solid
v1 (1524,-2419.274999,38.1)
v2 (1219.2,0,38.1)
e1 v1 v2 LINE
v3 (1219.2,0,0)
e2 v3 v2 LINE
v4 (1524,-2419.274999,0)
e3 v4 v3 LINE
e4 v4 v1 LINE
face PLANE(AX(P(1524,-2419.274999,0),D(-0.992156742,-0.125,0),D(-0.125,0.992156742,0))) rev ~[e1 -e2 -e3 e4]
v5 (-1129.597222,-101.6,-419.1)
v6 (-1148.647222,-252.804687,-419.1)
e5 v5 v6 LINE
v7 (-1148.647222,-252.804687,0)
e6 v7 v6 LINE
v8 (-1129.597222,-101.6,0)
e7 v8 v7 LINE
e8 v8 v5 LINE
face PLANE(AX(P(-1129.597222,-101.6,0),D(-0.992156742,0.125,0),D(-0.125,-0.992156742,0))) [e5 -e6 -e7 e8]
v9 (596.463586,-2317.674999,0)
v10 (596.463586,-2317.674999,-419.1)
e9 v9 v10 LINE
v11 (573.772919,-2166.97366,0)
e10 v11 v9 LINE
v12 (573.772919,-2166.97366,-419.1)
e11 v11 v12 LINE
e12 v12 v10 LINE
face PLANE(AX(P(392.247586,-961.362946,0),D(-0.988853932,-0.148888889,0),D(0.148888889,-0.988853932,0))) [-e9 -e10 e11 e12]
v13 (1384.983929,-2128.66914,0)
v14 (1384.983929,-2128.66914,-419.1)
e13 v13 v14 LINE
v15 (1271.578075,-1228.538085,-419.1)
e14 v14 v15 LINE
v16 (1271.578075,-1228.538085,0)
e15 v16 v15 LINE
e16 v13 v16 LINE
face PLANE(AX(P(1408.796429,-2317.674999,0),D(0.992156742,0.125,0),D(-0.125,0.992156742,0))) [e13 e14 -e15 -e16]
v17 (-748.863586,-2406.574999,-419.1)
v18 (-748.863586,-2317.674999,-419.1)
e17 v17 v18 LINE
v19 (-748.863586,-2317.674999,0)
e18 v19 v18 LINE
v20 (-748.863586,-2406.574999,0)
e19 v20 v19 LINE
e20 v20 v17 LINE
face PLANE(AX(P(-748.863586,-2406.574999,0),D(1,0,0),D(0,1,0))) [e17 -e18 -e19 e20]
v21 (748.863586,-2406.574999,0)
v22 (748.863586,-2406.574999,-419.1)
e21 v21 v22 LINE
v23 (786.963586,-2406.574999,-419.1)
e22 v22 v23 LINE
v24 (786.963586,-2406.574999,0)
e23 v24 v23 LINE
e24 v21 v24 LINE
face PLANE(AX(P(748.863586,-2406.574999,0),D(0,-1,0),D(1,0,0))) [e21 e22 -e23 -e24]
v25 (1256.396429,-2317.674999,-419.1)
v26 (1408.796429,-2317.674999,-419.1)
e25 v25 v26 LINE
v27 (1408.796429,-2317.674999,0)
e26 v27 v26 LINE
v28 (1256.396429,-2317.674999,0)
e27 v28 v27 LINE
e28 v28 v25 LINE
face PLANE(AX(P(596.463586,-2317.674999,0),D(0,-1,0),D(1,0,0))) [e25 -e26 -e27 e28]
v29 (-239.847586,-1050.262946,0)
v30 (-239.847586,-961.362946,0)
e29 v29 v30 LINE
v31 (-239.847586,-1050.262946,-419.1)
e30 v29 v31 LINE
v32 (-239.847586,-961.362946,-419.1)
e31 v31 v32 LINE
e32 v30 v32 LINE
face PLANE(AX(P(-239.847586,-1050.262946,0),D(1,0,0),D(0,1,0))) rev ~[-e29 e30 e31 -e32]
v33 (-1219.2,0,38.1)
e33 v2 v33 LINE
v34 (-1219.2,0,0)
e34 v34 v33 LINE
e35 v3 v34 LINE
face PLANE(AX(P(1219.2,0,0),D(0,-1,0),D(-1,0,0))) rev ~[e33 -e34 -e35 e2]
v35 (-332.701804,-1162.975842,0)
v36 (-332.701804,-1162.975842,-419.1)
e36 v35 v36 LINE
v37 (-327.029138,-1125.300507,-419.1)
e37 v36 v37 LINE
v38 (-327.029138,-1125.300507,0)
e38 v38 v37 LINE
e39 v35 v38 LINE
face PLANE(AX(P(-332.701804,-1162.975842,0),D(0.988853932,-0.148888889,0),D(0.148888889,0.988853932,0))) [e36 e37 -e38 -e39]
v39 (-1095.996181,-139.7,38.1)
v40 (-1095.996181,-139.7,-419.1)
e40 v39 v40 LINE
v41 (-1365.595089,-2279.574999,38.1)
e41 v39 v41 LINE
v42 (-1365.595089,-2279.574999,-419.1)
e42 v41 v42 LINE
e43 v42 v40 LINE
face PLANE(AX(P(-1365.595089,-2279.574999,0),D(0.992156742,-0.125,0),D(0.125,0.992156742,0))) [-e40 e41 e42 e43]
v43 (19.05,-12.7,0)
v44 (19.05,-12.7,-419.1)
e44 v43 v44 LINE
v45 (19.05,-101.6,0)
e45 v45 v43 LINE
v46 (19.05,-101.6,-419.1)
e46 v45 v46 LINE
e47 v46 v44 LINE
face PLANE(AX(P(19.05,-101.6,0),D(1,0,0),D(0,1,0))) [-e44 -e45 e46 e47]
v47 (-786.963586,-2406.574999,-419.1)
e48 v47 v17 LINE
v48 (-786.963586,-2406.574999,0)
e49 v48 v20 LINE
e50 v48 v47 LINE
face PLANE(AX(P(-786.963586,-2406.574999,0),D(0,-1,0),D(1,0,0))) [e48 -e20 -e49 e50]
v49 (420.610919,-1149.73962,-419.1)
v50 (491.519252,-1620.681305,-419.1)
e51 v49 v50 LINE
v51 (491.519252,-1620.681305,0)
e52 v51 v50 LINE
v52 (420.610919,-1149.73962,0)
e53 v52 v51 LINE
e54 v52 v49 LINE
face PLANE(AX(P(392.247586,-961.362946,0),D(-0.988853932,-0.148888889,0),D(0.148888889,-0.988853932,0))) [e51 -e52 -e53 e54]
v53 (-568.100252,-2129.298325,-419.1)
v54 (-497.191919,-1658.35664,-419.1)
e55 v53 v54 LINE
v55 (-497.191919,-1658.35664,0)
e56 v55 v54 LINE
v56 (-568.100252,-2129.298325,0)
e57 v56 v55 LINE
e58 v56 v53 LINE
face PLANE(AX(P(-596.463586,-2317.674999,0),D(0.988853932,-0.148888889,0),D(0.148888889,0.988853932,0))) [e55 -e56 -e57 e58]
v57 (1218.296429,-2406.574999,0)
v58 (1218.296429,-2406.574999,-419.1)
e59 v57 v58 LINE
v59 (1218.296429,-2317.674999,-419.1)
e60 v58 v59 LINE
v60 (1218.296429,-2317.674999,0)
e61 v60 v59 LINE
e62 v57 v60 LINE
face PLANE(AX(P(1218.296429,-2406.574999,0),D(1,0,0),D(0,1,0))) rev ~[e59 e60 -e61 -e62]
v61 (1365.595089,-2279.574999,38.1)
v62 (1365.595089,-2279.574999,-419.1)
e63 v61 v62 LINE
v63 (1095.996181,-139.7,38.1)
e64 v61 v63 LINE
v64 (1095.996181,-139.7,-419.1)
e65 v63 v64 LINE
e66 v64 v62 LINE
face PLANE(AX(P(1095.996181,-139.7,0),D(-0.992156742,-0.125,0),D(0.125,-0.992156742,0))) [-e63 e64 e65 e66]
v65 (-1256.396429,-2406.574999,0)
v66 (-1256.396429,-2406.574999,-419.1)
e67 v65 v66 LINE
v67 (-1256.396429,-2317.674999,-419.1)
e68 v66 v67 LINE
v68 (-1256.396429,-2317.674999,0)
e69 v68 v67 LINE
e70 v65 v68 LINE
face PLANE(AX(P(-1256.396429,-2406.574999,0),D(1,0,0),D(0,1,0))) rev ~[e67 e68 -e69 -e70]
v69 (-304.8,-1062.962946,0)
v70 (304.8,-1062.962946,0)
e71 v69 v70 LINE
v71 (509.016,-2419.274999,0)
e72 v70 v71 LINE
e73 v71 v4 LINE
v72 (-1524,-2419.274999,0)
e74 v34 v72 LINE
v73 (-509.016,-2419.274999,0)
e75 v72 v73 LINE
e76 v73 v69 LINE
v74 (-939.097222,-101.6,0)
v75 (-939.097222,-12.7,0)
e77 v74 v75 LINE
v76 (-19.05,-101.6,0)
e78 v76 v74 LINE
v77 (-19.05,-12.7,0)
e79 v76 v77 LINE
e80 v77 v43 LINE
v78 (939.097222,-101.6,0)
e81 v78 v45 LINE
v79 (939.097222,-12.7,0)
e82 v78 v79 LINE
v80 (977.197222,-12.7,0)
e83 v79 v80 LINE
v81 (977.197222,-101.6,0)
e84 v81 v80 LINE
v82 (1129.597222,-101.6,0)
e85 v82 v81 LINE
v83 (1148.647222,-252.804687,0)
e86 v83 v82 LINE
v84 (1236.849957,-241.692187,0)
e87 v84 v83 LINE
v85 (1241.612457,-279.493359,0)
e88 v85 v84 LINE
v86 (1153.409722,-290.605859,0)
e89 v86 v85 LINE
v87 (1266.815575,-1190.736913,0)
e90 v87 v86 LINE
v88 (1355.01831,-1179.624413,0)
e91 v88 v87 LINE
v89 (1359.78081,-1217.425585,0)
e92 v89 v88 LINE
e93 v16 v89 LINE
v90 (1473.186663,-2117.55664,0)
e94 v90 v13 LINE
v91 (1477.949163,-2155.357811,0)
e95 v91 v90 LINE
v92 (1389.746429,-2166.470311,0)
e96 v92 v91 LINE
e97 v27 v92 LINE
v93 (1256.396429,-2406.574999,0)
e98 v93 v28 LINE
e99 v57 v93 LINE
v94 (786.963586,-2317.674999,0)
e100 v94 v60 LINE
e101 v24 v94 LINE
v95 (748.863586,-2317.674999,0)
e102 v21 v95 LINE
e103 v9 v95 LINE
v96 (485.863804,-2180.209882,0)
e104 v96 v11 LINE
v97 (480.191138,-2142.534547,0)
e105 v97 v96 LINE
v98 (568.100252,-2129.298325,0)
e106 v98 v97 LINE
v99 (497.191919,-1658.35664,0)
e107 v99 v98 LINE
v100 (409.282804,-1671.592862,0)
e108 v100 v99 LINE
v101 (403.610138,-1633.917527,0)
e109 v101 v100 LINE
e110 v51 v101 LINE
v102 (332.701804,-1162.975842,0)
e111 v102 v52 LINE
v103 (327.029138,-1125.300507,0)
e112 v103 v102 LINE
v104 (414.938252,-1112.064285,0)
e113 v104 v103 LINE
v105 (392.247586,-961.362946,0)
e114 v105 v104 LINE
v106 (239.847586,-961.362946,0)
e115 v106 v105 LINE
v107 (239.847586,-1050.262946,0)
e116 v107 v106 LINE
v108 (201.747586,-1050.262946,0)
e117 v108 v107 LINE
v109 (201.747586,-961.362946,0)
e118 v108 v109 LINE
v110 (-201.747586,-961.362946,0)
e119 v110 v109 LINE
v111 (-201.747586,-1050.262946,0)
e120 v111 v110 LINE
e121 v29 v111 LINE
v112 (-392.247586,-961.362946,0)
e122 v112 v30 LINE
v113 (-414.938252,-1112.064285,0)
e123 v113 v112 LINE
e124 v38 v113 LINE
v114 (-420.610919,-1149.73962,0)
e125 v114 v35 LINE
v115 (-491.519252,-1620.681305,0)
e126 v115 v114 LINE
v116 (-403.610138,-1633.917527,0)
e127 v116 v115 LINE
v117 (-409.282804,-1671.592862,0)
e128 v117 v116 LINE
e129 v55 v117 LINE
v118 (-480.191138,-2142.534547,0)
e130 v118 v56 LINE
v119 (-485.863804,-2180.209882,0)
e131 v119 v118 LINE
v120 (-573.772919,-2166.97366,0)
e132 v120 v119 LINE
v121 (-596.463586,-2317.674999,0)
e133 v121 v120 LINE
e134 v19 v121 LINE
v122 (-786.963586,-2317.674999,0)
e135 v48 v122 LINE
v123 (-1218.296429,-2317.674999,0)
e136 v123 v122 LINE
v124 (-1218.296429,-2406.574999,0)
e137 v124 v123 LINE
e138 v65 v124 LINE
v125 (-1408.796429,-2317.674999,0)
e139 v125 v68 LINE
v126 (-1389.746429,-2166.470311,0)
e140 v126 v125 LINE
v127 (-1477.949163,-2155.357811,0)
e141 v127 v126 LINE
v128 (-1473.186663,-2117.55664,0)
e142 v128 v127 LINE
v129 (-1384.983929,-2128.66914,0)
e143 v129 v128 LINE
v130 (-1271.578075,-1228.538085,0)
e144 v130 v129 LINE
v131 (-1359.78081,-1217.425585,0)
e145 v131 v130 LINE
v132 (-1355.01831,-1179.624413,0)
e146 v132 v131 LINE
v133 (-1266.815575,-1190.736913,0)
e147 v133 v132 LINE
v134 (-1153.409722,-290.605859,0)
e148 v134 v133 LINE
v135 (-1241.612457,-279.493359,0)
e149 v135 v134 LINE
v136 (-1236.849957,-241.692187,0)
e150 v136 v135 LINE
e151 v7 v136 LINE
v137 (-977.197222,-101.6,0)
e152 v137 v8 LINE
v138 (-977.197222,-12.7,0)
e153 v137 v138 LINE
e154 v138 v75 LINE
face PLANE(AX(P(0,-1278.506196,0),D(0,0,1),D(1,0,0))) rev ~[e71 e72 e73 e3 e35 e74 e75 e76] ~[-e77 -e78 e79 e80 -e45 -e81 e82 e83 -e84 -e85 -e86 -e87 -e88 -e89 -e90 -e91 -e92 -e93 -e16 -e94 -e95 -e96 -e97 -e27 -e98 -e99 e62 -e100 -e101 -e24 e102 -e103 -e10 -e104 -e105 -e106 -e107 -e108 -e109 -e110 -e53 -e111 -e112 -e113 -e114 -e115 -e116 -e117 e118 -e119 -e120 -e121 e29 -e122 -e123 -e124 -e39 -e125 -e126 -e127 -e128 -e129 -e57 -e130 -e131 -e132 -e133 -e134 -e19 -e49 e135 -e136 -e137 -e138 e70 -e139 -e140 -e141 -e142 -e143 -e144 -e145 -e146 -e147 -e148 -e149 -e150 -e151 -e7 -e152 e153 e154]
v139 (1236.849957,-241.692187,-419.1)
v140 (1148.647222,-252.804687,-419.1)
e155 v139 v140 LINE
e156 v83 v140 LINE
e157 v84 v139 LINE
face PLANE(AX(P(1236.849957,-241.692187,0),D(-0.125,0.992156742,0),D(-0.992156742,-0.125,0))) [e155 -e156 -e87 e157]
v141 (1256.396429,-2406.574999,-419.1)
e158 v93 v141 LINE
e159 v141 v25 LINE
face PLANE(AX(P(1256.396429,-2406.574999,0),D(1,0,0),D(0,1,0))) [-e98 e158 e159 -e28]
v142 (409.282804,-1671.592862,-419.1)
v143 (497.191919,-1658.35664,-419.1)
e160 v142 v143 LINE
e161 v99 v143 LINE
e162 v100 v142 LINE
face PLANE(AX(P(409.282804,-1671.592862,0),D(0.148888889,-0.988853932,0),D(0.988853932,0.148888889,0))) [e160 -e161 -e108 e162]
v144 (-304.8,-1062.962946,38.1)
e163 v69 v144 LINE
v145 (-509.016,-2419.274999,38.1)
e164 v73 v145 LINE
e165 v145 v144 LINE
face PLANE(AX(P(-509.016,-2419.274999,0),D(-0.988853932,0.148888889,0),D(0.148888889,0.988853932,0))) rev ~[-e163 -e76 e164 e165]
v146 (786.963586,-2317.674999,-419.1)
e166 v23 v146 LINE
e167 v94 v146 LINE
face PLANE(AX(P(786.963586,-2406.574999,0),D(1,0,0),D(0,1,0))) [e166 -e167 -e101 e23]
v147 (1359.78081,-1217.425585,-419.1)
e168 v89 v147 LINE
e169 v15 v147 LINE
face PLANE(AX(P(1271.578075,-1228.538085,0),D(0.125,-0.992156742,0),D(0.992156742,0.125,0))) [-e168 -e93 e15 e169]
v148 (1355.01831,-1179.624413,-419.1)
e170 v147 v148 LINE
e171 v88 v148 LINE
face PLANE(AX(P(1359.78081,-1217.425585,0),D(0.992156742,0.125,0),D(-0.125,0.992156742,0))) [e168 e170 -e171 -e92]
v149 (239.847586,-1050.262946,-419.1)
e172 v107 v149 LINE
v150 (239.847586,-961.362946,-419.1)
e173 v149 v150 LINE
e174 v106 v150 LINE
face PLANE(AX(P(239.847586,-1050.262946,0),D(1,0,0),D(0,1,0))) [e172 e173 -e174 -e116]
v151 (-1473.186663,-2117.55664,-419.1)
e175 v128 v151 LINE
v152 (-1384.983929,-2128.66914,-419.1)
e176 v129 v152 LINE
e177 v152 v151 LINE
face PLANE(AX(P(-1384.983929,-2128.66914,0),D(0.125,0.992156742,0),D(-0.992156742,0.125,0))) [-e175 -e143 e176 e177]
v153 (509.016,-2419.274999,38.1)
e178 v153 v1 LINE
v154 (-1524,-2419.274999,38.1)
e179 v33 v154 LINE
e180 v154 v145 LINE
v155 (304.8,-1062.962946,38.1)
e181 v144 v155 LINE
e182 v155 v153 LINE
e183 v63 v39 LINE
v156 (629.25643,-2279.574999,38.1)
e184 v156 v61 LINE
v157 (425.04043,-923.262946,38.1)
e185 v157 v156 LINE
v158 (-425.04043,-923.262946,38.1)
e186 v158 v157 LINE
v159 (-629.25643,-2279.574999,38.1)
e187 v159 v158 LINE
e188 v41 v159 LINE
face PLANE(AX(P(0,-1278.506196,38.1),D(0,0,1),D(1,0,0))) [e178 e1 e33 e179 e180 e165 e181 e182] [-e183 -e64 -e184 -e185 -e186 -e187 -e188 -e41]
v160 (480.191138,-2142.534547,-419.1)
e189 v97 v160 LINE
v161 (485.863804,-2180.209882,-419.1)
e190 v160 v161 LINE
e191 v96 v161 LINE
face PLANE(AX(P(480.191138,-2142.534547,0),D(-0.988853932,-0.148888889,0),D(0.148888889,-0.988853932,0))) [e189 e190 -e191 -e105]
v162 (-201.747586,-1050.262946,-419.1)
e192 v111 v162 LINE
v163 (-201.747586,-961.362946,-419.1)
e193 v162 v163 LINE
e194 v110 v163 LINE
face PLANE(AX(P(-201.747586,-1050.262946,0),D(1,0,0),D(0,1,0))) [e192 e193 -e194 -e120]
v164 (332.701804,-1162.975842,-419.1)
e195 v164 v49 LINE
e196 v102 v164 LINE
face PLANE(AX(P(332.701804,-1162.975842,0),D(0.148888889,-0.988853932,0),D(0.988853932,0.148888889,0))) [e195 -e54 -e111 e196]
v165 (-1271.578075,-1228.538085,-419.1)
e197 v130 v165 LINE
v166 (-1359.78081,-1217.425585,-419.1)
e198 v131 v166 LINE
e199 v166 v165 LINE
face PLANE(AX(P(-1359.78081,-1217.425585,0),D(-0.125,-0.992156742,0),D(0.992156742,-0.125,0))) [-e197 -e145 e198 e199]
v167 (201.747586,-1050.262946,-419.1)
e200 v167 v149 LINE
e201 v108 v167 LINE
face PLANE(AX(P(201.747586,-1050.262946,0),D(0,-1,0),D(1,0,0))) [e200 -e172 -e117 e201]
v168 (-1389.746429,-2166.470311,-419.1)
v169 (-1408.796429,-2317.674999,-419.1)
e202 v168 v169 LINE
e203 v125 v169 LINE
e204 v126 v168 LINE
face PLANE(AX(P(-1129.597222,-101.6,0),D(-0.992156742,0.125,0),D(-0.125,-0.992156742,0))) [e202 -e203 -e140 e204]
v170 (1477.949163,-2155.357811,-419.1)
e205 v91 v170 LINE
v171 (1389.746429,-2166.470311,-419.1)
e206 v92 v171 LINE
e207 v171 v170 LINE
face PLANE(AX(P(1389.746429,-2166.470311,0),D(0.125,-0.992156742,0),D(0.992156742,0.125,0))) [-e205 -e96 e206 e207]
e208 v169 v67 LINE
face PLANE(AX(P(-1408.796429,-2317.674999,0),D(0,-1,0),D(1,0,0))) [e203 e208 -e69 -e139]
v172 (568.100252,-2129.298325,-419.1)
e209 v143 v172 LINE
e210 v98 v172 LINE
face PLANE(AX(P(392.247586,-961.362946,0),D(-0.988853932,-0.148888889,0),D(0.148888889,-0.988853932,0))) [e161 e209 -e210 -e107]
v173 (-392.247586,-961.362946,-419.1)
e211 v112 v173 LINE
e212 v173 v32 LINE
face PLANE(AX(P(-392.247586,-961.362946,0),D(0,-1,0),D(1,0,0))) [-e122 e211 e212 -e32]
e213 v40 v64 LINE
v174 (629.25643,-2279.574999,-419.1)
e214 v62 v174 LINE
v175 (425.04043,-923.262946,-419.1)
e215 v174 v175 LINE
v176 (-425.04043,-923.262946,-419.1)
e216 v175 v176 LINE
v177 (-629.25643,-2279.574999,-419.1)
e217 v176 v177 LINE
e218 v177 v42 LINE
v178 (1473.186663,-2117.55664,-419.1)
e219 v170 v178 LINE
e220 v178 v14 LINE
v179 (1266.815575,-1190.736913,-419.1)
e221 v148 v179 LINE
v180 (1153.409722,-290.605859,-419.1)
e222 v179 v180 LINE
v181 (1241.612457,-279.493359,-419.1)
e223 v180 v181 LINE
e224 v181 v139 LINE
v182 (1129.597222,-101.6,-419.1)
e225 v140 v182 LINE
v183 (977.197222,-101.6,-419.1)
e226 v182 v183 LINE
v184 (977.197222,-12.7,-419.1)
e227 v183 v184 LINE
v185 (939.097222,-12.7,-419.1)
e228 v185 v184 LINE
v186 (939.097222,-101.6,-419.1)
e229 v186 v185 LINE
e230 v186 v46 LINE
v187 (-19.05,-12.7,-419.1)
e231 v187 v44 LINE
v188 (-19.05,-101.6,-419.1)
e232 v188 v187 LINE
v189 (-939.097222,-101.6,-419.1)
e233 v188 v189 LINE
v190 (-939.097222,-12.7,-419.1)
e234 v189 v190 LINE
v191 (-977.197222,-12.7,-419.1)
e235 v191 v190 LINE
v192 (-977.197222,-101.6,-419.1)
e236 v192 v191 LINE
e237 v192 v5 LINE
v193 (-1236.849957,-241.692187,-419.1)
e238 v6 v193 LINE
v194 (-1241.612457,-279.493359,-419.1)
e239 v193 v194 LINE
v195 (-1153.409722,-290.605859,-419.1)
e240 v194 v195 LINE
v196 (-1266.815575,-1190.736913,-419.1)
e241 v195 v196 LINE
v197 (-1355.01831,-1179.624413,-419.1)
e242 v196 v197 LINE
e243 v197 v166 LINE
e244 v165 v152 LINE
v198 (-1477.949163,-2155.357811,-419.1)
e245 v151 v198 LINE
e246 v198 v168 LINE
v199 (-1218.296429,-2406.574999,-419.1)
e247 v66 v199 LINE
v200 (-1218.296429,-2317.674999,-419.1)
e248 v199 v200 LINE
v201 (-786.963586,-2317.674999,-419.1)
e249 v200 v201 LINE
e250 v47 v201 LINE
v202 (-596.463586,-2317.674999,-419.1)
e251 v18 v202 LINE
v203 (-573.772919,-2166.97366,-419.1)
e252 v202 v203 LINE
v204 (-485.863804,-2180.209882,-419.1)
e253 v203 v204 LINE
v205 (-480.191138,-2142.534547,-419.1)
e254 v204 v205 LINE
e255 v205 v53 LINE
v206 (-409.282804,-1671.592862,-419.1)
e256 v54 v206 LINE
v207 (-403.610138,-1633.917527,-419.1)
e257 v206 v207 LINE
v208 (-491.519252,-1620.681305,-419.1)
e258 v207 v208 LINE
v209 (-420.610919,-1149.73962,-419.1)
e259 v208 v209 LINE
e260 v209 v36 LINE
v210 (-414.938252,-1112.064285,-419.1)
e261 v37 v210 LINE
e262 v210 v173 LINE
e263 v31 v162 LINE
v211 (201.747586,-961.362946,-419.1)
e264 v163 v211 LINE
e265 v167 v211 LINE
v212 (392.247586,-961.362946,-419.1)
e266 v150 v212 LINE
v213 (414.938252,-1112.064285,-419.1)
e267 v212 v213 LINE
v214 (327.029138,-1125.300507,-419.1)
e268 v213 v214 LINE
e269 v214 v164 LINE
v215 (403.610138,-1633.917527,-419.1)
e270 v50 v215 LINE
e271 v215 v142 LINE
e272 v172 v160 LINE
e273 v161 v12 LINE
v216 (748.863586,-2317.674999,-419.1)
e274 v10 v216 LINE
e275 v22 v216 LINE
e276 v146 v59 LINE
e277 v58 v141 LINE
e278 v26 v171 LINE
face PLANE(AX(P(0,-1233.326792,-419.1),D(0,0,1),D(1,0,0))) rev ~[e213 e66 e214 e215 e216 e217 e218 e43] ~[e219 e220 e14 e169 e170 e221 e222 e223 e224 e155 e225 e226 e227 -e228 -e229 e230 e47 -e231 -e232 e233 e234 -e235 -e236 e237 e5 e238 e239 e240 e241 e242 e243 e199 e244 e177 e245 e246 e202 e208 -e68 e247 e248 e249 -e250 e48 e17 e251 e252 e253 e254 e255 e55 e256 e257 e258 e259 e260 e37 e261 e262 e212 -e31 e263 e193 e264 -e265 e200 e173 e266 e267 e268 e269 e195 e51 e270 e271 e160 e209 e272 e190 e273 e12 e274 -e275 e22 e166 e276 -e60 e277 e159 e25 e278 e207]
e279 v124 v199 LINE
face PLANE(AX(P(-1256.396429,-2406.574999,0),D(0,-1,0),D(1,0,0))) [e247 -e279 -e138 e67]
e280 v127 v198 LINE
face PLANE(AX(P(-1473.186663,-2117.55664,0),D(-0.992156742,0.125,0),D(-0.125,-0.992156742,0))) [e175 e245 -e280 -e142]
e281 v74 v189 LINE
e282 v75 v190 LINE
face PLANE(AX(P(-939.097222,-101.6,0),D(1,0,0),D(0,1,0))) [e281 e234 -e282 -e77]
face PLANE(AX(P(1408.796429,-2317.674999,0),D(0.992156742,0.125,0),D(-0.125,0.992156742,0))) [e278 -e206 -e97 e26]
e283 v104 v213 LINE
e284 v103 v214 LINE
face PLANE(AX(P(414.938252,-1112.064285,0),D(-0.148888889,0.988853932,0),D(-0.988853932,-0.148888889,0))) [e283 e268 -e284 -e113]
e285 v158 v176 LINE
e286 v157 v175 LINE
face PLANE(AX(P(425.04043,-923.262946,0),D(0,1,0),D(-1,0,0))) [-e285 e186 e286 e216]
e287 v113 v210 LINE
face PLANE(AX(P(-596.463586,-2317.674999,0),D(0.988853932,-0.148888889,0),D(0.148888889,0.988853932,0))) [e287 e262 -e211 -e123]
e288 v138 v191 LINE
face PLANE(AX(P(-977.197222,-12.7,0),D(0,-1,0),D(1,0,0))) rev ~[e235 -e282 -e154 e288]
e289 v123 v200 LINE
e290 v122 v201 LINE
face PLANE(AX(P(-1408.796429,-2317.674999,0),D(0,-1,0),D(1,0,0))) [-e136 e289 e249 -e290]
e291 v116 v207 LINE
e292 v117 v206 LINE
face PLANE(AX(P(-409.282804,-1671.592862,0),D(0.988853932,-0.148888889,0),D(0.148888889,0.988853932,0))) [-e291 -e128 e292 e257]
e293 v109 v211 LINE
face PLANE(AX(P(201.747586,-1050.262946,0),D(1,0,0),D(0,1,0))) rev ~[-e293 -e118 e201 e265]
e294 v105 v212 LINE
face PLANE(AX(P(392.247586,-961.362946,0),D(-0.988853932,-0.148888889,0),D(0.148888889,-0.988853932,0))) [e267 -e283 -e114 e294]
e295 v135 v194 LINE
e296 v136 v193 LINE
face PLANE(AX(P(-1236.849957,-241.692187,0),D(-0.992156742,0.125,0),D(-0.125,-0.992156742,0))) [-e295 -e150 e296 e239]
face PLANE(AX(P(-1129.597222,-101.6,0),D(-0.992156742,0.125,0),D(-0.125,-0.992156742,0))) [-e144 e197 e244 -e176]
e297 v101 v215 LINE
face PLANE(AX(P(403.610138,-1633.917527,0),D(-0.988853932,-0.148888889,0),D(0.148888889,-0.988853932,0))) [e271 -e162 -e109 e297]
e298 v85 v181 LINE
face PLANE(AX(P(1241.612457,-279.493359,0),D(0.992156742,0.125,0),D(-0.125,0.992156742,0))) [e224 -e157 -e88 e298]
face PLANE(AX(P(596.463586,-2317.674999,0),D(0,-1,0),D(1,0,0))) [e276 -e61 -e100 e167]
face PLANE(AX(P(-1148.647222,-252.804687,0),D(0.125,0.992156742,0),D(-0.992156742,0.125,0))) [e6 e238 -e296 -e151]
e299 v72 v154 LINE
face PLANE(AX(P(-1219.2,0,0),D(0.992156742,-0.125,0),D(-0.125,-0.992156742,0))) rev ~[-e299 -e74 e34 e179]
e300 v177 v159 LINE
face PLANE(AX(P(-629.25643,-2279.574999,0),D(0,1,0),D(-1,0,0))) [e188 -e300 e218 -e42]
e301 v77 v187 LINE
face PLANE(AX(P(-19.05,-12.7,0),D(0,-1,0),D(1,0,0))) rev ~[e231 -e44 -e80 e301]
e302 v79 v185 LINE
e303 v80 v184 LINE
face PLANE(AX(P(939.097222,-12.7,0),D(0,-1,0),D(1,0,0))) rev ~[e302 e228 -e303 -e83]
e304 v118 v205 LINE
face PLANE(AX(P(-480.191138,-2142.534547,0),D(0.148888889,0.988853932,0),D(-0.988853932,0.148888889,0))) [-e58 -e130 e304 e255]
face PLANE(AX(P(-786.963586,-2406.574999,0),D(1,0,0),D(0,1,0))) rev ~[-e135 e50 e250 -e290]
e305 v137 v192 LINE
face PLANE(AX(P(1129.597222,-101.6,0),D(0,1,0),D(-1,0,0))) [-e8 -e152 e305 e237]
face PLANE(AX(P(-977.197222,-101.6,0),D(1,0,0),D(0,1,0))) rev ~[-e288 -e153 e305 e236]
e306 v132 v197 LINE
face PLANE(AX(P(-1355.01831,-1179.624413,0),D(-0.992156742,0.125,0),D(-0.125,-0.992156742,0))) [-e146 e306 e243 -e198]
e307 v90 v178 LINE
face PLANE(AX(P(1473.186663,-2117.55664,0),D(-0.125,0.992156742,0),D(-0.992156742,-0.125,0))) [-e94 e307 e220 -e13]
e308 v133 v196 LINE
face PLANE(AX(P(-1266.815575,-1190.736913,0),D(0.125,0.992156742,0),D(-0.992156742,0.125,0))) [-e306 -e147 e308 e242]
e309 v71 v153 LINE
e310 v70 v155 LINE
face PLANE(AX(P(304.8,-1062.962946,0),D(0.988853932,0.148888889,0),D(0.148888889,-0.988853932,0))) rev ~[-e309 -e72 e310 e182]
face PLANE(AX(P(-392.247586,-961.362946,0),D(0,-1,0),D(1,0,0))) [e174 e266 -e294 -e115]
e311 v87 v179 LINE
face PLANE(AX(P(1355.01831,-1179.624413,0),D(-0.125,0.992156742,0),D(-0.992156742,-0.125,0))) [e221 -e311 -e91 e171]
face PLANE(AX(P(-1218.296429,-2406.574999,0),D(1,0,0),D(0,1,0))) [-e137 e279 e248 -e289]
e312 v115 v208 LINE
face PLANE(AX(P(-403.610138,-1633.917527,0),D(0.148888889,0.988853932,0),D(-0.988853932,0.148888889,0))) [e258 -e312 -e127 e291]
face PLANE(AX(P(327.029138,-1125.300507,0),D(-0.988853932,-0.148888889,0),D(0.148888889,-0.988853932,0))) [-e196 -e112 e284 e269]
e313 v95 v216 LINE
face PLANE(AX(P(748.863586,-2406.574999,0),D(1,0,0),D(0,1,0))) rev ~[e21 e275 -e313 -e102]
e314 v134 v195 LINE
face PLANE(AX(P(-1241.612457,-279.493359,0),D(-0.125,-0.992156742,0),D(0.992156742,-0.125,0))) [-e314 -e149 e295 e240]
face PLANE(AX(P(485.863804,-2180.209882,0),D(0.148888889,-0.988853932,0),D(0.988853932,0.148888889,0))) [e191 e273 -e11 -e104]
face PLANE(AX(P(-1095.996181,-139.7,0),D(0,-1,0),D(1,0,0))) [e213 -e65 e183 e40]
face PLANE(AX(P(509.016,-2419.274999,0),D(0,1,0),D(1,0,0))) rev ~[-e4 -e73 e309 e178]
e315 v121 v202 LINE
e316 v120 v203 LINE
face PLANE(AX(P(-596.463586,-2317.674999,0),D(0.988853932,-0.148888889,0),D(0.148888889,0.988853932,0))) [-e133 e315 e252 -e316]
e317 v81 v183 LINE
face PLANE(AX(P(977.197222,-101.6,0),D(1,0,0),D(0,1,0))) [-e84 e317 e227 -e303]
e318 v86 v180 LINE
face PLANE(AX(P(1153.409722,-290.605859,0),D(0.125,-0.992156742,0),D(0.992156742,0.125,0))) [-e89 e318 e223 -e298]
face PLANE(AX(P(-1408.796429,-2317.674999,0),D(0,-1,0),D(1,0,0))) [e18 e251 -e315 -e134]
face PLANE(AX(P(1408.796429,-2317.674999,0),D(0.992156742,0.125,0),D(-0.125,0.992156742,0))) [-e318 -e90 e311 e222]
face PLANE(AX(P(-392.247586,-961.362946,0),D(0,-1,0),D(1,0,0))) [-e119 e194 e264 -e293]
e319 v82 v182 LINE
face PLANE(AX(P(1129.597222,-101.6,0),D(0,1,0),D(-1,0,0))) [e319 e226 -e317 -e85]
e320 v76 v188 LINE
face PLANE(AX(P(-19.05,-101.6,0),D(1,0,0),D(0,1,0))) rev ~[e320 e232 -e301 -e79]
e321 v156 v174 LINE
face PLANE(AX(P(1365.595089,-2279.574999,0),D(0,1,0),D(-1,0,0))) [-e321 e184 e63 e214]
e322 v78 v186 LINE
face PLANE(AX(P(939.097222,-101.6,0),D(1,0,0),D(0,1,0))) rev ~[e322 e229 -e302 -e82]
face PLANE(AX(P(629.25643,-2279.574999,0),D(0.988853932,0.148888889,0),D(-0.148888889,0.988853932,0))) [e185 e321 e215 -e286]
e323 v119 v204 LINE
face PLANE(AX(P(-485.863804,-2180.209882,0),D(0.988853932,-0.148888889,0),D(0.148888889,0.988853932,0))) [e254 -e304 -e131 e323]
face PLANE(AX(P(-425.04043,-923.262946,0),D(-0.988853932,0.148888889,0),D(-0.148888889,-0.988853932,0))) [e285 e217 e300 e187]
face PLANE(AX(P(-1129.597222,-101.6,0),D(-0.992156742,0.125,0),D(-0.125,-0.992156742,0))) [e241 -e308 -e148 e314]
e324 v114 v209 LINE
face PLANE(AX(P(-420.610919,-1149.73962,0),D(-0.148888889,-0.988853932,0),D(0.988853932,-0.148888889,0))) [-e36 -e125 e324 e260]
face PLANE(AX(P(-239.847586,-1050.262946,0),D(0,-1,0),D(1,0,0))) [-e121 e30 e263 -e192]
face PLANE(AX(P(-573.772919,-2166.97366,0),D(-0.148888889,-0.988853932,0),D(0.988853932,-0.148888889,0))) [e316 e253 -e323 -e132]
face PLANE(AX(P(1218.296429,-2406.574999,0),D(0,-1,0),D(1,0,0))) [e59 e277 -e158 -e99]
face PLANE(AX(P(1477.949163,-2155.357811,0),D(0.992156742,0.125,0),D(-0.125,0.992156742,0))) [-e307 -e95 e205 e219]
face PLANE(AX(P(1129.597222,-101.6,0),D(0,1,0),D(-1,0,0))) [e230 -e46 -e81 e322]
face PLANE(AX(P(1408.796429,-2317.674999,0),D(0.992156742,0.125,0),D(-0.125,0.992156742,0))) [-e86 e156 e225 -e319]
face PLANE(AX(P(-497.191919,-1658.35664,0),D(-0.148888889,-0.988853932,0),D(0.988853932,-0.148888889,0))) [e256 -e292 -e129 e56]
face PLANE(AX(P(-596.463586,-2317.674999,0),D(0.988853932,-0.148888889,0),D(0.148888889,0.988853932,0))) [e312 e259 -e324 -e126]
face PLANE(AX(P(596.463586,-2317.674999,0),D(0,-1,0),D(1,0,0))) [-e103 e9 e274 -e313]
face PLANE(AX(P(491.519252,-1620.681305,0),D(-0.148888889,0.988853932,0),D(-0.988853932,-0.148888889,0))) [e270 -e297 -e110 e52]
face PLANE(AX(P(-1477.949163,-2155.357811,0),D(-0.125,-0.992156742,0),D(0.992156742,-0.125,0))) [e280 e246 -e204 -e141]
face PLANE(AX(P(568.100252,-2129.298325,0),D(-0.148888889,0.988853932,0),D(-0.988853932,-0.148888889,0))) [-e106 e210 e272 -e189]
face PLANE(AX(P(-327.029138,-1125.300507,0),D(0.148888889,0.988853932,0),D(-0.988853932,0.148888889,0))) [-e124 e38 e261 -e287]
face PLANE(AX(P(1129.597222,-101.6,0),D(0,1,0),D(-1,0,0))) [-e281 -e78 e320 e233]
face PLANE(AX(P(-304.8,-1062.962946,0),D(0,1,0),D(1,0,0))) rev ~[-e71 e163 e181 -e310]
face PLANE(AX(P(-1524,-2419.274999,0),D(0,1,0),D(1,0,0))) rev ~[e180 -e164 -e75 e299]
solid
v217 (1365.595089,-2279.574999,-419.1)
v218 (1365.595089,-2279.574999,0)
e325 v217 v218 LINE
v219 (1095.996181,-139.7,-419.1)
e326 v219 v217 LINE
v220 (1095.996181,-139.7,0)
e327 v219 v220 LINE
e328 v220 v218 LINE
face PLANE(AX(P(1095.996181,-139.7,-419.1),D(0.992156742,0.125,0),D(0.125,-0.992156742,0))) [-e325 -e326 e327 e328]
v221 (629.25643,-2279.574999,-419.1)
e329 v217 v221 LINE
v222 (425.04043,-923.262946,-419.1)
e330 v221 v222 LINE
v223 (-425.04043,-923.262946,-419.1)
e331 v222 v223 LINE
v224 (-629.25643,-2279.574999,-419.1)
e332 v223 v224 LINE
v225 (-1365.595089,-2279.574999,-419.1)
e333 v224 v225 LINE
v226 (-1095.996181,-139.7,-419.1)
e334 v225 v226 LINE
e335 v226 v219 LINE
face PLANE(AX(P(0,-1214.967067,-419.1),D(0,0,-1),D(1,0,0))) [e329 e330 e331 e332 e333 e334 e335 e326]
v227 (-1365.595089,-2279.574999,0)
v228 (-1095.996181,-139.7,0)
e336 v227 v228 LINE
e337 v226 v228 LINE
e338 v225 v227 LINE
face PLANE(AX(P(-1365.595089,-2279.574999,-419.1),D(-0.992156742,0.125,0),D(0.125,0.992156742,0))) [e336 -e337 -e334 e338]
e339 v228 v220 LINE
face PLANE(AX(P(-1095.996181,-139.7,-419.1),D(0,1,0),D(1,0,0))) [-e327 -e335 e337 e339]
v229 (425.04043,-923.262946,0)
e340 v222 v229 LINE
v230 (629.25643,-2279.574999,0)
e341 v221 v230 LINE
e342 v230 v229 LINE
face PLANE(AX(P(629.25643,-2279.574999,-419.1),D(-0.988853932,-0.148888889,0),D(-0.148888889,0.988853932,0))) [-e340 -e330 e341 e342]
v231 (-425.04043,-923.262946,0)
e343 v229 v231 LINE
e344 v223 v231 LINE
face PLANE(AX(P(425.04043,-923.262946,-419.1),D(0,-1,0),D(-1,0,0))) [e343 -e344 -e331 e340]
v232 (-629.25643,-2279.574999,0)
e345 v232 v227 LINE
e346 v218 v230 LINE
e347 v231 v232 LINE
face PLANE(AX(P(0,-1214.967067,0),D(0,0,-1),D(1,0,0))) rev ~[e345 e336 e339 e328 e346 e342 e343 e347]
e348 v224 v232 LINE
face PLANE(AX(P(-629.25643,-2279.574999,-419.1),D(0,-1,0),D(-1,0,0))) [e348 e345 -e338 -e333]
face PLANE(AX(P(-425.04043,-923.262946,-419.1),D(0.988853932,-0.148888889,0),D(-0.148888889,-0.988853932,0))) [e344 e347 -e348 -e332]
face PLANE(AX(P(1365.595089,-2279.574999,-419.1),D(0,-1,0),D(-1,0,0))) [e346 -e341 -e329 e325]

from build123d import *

# Parameters (mm, degrees)
F1_DEPTH = 38.1
F3_DEPTH = 38.101
F5_DEPTH = 419.1
F6_W     = 38.1
F6_H     = 88.9
F7_DEPTH = 419.1
F9_DEPTH = 419.1


with BuildPart() as f1:
    # F0 (on Top) → F1 (new body)
    with BuildSketch(Plane.XY):
        Polygon((1219.2, 0), (-1219.2, 0), (-1524, -2419.2749988375), (-509.016, -2419.2749988375), (-304.8, -1062.9629457523), (304.8, -1062.9629457523), (509.016, -2419.2749988375), (1524, -2419.2749988375), align=None)
    extrude(amount=F1_DEPTH)

    # F2 (on face) → F3 (cut, through all)
    with BuildSketch(Plane.XY.offset(38.1)):
        Polygon((1095.9961806148, -139.7), (-1095.9961806148, -139.7), (-1365.5950893618, -2279.5749988375), (-629.256430238, -2279.5749988375), (-425.040430238, -923.2629457523), (425.040430238, -923.2629457523), (629.256430238, -2279.5749988375), (1365.5950893618, -2279.5749988375), align=None)
    extrude(amount=-F3_DEPTH, mode=Mode.SUBTRACT)

    # F4 (on face) → F5 (join)
    with BuildSketch(Plane.XY):
        Polygon((-1129.5972222653, -101.6), (-1408.7964286268, -2317.6749988375), (-596.4635856277, -2317.6749988375), (-392.2475856277, -961.3629457523), (392.2475856277, -961.3629457523), (596.4635856277, -2317.6749988375), (1408.7964286268, -2317.6749988375), (1129.5972222653, -101.6), align=None)
        Polygon((-629.256430238, -2279.5749988375), (-1365.5950893618, -2279.5749988375), (-1095.9961806148, -139.7), (1095.9961806148, -139.7), (1365.5950893618, -2279.5749988374), (629.256430238, -2279.5749988375), (425.040430238, -923.2629457523), (-425.040430238, -923.2629457523), align=None, mode=Mode.SUBTRACT)
    extrude(amount=-F5_DEPTH)

    # F6 (on face) → F7 (join, through all)
    with BuildSketch(Plane.XY):
        with Locations((-1237.3464286268, -2362.1249988375)):
            Rectangle(F6_W, F6_H)
        with Locations((-767.9135856277, -2362.1249988375)):
            Rectangle(F6_W, F6_H)
        with Locations((767.9135856277, -2362.1249988375)):
            Rectangle(F6_W, F6_H)
        with Locations((1237.3464286268, -2362.1249988375)):
            Rectangle(F6_W, F6_H)
        Polygon((-568.1002522943, -2129.2983247979), (-573.772918961, -2166.9736596058), (-485.8638044092, -2180.209881828), (-480.1911377425, -2142.5345470201), align=None)
        Polygon((-414.9382522943, -1112.064284984), (-420.610918961, -1149.7396197919), (-332.7018044092, -1162.9758420142), (-327.0291377425, -1125.3005072062), align=None)
        with Locations((-220.7975856277, -1005.8129457523)):
            Rectangle(F6_W, F6_H)
        with Locations((220.7975856277, -1005.8129457523)):
            Rectangle(F6_W, F6_H)
        Polygon((480.1911377425, -2142.5345470201), (485.8638044092, -2180.209881828), (573.772918961, -2166.9736596058), (568.1002522943, -2129.2983247979), align=None)
        Polygon((327.0291377425, -1125.3005072062), (332.7018044092, -1162.9758420142), (420.610918961, -1149.7396197919), (414.9382522943, -1112.064284984), align=None)
        Polygon((-1473.1866629594, -2117.5566395533), (-1477.9491629594, -2155.3578114101), (-1389.7464286268, -2166.4703114101), (-1384.9839286268, -2128.6691395533), align=None)
        Polygon((-1236.8499565979, -241.6921874273), (-1241.6124565979, -279.4933592842), (-1153.4097222653, -290.6058592842), (-1148.6472222653, -252.8046874273), align=None)
        with Locations((-958.1472222653, -57.15)):
            Rectangle(F6_W, F6_H)
        with Locations((958.1472222653, -57.15)):
            Rectangle(F6_W, F6_H)
        Polygon((1148.6472222653, -252.8046874273), (1153.4097222653, -290.6058592842), (1241.6124565979, -279.4933592842), (1236.8499565979, -241.6921874273), align=None)
        Polygon((1384.9839286268, -2128.6691395533), (1389.7464286268, -2166.4703114101), (1477.9491629594, -2155.3578114101), (1473.1866629594, -2117.5566395533), align=None)
        Polygon((-491.5192522943, -1620.6813048909), (-497.191918961, -1658.3566396989), (-409.2828044092, -1671.5928619211), (-403.6101377425, -1633.9175271132), align=None)
        Polygon((403.6101377425, -1633.9175271132), (409.2828044092, -1671.5928619211), (497.191918961, -1658.3566396989), (491.5192522943, -1620.6813048909), align=None)
        Polygon((1266.815575446, -1190.7369134903), (1271.578075446, -1228.5380853471), (1359.7808097786, -1217.4255853471), (1355.0183097786, -1179.6244134903), align=None)
        Polygon((-1355.0183097786, -1179.6244134903), (-1359.7808097786, -1217.4255853471), (-1271.578075446, -1228.5380853471), (-1266.815575446, -1190.7369134903), align=None)
        with Locations((0, -57.15)):
            Rectangle(F6_W, F6_H)
    extrude(amount=-F7_DEPTH)


with BuildPart() as f9:
    # F8 (on face) → F9 (new body, through all)
    with BuildSketch(Plane(origin=(0, 0, -419.1), x_dir=(1, 0, 0), z_dir=(0, 0, -1))):
        Polygon((-629.256430238, 2279.5749988375), (-1365.5950893618, 2279.5749988375), (-1095.9961806148, 139.7), (1095.9961806148, 139.7), (1365.5950893618, 2279.5749988374), (629.256430238, 2279.5749988375), (425.040430238, 923.2629457523), (-425.040430238, 923.2629457523), align=None)
    extrude(amount=-F9_DEPTH)


solid = Compound([f1.part, f9.part])
